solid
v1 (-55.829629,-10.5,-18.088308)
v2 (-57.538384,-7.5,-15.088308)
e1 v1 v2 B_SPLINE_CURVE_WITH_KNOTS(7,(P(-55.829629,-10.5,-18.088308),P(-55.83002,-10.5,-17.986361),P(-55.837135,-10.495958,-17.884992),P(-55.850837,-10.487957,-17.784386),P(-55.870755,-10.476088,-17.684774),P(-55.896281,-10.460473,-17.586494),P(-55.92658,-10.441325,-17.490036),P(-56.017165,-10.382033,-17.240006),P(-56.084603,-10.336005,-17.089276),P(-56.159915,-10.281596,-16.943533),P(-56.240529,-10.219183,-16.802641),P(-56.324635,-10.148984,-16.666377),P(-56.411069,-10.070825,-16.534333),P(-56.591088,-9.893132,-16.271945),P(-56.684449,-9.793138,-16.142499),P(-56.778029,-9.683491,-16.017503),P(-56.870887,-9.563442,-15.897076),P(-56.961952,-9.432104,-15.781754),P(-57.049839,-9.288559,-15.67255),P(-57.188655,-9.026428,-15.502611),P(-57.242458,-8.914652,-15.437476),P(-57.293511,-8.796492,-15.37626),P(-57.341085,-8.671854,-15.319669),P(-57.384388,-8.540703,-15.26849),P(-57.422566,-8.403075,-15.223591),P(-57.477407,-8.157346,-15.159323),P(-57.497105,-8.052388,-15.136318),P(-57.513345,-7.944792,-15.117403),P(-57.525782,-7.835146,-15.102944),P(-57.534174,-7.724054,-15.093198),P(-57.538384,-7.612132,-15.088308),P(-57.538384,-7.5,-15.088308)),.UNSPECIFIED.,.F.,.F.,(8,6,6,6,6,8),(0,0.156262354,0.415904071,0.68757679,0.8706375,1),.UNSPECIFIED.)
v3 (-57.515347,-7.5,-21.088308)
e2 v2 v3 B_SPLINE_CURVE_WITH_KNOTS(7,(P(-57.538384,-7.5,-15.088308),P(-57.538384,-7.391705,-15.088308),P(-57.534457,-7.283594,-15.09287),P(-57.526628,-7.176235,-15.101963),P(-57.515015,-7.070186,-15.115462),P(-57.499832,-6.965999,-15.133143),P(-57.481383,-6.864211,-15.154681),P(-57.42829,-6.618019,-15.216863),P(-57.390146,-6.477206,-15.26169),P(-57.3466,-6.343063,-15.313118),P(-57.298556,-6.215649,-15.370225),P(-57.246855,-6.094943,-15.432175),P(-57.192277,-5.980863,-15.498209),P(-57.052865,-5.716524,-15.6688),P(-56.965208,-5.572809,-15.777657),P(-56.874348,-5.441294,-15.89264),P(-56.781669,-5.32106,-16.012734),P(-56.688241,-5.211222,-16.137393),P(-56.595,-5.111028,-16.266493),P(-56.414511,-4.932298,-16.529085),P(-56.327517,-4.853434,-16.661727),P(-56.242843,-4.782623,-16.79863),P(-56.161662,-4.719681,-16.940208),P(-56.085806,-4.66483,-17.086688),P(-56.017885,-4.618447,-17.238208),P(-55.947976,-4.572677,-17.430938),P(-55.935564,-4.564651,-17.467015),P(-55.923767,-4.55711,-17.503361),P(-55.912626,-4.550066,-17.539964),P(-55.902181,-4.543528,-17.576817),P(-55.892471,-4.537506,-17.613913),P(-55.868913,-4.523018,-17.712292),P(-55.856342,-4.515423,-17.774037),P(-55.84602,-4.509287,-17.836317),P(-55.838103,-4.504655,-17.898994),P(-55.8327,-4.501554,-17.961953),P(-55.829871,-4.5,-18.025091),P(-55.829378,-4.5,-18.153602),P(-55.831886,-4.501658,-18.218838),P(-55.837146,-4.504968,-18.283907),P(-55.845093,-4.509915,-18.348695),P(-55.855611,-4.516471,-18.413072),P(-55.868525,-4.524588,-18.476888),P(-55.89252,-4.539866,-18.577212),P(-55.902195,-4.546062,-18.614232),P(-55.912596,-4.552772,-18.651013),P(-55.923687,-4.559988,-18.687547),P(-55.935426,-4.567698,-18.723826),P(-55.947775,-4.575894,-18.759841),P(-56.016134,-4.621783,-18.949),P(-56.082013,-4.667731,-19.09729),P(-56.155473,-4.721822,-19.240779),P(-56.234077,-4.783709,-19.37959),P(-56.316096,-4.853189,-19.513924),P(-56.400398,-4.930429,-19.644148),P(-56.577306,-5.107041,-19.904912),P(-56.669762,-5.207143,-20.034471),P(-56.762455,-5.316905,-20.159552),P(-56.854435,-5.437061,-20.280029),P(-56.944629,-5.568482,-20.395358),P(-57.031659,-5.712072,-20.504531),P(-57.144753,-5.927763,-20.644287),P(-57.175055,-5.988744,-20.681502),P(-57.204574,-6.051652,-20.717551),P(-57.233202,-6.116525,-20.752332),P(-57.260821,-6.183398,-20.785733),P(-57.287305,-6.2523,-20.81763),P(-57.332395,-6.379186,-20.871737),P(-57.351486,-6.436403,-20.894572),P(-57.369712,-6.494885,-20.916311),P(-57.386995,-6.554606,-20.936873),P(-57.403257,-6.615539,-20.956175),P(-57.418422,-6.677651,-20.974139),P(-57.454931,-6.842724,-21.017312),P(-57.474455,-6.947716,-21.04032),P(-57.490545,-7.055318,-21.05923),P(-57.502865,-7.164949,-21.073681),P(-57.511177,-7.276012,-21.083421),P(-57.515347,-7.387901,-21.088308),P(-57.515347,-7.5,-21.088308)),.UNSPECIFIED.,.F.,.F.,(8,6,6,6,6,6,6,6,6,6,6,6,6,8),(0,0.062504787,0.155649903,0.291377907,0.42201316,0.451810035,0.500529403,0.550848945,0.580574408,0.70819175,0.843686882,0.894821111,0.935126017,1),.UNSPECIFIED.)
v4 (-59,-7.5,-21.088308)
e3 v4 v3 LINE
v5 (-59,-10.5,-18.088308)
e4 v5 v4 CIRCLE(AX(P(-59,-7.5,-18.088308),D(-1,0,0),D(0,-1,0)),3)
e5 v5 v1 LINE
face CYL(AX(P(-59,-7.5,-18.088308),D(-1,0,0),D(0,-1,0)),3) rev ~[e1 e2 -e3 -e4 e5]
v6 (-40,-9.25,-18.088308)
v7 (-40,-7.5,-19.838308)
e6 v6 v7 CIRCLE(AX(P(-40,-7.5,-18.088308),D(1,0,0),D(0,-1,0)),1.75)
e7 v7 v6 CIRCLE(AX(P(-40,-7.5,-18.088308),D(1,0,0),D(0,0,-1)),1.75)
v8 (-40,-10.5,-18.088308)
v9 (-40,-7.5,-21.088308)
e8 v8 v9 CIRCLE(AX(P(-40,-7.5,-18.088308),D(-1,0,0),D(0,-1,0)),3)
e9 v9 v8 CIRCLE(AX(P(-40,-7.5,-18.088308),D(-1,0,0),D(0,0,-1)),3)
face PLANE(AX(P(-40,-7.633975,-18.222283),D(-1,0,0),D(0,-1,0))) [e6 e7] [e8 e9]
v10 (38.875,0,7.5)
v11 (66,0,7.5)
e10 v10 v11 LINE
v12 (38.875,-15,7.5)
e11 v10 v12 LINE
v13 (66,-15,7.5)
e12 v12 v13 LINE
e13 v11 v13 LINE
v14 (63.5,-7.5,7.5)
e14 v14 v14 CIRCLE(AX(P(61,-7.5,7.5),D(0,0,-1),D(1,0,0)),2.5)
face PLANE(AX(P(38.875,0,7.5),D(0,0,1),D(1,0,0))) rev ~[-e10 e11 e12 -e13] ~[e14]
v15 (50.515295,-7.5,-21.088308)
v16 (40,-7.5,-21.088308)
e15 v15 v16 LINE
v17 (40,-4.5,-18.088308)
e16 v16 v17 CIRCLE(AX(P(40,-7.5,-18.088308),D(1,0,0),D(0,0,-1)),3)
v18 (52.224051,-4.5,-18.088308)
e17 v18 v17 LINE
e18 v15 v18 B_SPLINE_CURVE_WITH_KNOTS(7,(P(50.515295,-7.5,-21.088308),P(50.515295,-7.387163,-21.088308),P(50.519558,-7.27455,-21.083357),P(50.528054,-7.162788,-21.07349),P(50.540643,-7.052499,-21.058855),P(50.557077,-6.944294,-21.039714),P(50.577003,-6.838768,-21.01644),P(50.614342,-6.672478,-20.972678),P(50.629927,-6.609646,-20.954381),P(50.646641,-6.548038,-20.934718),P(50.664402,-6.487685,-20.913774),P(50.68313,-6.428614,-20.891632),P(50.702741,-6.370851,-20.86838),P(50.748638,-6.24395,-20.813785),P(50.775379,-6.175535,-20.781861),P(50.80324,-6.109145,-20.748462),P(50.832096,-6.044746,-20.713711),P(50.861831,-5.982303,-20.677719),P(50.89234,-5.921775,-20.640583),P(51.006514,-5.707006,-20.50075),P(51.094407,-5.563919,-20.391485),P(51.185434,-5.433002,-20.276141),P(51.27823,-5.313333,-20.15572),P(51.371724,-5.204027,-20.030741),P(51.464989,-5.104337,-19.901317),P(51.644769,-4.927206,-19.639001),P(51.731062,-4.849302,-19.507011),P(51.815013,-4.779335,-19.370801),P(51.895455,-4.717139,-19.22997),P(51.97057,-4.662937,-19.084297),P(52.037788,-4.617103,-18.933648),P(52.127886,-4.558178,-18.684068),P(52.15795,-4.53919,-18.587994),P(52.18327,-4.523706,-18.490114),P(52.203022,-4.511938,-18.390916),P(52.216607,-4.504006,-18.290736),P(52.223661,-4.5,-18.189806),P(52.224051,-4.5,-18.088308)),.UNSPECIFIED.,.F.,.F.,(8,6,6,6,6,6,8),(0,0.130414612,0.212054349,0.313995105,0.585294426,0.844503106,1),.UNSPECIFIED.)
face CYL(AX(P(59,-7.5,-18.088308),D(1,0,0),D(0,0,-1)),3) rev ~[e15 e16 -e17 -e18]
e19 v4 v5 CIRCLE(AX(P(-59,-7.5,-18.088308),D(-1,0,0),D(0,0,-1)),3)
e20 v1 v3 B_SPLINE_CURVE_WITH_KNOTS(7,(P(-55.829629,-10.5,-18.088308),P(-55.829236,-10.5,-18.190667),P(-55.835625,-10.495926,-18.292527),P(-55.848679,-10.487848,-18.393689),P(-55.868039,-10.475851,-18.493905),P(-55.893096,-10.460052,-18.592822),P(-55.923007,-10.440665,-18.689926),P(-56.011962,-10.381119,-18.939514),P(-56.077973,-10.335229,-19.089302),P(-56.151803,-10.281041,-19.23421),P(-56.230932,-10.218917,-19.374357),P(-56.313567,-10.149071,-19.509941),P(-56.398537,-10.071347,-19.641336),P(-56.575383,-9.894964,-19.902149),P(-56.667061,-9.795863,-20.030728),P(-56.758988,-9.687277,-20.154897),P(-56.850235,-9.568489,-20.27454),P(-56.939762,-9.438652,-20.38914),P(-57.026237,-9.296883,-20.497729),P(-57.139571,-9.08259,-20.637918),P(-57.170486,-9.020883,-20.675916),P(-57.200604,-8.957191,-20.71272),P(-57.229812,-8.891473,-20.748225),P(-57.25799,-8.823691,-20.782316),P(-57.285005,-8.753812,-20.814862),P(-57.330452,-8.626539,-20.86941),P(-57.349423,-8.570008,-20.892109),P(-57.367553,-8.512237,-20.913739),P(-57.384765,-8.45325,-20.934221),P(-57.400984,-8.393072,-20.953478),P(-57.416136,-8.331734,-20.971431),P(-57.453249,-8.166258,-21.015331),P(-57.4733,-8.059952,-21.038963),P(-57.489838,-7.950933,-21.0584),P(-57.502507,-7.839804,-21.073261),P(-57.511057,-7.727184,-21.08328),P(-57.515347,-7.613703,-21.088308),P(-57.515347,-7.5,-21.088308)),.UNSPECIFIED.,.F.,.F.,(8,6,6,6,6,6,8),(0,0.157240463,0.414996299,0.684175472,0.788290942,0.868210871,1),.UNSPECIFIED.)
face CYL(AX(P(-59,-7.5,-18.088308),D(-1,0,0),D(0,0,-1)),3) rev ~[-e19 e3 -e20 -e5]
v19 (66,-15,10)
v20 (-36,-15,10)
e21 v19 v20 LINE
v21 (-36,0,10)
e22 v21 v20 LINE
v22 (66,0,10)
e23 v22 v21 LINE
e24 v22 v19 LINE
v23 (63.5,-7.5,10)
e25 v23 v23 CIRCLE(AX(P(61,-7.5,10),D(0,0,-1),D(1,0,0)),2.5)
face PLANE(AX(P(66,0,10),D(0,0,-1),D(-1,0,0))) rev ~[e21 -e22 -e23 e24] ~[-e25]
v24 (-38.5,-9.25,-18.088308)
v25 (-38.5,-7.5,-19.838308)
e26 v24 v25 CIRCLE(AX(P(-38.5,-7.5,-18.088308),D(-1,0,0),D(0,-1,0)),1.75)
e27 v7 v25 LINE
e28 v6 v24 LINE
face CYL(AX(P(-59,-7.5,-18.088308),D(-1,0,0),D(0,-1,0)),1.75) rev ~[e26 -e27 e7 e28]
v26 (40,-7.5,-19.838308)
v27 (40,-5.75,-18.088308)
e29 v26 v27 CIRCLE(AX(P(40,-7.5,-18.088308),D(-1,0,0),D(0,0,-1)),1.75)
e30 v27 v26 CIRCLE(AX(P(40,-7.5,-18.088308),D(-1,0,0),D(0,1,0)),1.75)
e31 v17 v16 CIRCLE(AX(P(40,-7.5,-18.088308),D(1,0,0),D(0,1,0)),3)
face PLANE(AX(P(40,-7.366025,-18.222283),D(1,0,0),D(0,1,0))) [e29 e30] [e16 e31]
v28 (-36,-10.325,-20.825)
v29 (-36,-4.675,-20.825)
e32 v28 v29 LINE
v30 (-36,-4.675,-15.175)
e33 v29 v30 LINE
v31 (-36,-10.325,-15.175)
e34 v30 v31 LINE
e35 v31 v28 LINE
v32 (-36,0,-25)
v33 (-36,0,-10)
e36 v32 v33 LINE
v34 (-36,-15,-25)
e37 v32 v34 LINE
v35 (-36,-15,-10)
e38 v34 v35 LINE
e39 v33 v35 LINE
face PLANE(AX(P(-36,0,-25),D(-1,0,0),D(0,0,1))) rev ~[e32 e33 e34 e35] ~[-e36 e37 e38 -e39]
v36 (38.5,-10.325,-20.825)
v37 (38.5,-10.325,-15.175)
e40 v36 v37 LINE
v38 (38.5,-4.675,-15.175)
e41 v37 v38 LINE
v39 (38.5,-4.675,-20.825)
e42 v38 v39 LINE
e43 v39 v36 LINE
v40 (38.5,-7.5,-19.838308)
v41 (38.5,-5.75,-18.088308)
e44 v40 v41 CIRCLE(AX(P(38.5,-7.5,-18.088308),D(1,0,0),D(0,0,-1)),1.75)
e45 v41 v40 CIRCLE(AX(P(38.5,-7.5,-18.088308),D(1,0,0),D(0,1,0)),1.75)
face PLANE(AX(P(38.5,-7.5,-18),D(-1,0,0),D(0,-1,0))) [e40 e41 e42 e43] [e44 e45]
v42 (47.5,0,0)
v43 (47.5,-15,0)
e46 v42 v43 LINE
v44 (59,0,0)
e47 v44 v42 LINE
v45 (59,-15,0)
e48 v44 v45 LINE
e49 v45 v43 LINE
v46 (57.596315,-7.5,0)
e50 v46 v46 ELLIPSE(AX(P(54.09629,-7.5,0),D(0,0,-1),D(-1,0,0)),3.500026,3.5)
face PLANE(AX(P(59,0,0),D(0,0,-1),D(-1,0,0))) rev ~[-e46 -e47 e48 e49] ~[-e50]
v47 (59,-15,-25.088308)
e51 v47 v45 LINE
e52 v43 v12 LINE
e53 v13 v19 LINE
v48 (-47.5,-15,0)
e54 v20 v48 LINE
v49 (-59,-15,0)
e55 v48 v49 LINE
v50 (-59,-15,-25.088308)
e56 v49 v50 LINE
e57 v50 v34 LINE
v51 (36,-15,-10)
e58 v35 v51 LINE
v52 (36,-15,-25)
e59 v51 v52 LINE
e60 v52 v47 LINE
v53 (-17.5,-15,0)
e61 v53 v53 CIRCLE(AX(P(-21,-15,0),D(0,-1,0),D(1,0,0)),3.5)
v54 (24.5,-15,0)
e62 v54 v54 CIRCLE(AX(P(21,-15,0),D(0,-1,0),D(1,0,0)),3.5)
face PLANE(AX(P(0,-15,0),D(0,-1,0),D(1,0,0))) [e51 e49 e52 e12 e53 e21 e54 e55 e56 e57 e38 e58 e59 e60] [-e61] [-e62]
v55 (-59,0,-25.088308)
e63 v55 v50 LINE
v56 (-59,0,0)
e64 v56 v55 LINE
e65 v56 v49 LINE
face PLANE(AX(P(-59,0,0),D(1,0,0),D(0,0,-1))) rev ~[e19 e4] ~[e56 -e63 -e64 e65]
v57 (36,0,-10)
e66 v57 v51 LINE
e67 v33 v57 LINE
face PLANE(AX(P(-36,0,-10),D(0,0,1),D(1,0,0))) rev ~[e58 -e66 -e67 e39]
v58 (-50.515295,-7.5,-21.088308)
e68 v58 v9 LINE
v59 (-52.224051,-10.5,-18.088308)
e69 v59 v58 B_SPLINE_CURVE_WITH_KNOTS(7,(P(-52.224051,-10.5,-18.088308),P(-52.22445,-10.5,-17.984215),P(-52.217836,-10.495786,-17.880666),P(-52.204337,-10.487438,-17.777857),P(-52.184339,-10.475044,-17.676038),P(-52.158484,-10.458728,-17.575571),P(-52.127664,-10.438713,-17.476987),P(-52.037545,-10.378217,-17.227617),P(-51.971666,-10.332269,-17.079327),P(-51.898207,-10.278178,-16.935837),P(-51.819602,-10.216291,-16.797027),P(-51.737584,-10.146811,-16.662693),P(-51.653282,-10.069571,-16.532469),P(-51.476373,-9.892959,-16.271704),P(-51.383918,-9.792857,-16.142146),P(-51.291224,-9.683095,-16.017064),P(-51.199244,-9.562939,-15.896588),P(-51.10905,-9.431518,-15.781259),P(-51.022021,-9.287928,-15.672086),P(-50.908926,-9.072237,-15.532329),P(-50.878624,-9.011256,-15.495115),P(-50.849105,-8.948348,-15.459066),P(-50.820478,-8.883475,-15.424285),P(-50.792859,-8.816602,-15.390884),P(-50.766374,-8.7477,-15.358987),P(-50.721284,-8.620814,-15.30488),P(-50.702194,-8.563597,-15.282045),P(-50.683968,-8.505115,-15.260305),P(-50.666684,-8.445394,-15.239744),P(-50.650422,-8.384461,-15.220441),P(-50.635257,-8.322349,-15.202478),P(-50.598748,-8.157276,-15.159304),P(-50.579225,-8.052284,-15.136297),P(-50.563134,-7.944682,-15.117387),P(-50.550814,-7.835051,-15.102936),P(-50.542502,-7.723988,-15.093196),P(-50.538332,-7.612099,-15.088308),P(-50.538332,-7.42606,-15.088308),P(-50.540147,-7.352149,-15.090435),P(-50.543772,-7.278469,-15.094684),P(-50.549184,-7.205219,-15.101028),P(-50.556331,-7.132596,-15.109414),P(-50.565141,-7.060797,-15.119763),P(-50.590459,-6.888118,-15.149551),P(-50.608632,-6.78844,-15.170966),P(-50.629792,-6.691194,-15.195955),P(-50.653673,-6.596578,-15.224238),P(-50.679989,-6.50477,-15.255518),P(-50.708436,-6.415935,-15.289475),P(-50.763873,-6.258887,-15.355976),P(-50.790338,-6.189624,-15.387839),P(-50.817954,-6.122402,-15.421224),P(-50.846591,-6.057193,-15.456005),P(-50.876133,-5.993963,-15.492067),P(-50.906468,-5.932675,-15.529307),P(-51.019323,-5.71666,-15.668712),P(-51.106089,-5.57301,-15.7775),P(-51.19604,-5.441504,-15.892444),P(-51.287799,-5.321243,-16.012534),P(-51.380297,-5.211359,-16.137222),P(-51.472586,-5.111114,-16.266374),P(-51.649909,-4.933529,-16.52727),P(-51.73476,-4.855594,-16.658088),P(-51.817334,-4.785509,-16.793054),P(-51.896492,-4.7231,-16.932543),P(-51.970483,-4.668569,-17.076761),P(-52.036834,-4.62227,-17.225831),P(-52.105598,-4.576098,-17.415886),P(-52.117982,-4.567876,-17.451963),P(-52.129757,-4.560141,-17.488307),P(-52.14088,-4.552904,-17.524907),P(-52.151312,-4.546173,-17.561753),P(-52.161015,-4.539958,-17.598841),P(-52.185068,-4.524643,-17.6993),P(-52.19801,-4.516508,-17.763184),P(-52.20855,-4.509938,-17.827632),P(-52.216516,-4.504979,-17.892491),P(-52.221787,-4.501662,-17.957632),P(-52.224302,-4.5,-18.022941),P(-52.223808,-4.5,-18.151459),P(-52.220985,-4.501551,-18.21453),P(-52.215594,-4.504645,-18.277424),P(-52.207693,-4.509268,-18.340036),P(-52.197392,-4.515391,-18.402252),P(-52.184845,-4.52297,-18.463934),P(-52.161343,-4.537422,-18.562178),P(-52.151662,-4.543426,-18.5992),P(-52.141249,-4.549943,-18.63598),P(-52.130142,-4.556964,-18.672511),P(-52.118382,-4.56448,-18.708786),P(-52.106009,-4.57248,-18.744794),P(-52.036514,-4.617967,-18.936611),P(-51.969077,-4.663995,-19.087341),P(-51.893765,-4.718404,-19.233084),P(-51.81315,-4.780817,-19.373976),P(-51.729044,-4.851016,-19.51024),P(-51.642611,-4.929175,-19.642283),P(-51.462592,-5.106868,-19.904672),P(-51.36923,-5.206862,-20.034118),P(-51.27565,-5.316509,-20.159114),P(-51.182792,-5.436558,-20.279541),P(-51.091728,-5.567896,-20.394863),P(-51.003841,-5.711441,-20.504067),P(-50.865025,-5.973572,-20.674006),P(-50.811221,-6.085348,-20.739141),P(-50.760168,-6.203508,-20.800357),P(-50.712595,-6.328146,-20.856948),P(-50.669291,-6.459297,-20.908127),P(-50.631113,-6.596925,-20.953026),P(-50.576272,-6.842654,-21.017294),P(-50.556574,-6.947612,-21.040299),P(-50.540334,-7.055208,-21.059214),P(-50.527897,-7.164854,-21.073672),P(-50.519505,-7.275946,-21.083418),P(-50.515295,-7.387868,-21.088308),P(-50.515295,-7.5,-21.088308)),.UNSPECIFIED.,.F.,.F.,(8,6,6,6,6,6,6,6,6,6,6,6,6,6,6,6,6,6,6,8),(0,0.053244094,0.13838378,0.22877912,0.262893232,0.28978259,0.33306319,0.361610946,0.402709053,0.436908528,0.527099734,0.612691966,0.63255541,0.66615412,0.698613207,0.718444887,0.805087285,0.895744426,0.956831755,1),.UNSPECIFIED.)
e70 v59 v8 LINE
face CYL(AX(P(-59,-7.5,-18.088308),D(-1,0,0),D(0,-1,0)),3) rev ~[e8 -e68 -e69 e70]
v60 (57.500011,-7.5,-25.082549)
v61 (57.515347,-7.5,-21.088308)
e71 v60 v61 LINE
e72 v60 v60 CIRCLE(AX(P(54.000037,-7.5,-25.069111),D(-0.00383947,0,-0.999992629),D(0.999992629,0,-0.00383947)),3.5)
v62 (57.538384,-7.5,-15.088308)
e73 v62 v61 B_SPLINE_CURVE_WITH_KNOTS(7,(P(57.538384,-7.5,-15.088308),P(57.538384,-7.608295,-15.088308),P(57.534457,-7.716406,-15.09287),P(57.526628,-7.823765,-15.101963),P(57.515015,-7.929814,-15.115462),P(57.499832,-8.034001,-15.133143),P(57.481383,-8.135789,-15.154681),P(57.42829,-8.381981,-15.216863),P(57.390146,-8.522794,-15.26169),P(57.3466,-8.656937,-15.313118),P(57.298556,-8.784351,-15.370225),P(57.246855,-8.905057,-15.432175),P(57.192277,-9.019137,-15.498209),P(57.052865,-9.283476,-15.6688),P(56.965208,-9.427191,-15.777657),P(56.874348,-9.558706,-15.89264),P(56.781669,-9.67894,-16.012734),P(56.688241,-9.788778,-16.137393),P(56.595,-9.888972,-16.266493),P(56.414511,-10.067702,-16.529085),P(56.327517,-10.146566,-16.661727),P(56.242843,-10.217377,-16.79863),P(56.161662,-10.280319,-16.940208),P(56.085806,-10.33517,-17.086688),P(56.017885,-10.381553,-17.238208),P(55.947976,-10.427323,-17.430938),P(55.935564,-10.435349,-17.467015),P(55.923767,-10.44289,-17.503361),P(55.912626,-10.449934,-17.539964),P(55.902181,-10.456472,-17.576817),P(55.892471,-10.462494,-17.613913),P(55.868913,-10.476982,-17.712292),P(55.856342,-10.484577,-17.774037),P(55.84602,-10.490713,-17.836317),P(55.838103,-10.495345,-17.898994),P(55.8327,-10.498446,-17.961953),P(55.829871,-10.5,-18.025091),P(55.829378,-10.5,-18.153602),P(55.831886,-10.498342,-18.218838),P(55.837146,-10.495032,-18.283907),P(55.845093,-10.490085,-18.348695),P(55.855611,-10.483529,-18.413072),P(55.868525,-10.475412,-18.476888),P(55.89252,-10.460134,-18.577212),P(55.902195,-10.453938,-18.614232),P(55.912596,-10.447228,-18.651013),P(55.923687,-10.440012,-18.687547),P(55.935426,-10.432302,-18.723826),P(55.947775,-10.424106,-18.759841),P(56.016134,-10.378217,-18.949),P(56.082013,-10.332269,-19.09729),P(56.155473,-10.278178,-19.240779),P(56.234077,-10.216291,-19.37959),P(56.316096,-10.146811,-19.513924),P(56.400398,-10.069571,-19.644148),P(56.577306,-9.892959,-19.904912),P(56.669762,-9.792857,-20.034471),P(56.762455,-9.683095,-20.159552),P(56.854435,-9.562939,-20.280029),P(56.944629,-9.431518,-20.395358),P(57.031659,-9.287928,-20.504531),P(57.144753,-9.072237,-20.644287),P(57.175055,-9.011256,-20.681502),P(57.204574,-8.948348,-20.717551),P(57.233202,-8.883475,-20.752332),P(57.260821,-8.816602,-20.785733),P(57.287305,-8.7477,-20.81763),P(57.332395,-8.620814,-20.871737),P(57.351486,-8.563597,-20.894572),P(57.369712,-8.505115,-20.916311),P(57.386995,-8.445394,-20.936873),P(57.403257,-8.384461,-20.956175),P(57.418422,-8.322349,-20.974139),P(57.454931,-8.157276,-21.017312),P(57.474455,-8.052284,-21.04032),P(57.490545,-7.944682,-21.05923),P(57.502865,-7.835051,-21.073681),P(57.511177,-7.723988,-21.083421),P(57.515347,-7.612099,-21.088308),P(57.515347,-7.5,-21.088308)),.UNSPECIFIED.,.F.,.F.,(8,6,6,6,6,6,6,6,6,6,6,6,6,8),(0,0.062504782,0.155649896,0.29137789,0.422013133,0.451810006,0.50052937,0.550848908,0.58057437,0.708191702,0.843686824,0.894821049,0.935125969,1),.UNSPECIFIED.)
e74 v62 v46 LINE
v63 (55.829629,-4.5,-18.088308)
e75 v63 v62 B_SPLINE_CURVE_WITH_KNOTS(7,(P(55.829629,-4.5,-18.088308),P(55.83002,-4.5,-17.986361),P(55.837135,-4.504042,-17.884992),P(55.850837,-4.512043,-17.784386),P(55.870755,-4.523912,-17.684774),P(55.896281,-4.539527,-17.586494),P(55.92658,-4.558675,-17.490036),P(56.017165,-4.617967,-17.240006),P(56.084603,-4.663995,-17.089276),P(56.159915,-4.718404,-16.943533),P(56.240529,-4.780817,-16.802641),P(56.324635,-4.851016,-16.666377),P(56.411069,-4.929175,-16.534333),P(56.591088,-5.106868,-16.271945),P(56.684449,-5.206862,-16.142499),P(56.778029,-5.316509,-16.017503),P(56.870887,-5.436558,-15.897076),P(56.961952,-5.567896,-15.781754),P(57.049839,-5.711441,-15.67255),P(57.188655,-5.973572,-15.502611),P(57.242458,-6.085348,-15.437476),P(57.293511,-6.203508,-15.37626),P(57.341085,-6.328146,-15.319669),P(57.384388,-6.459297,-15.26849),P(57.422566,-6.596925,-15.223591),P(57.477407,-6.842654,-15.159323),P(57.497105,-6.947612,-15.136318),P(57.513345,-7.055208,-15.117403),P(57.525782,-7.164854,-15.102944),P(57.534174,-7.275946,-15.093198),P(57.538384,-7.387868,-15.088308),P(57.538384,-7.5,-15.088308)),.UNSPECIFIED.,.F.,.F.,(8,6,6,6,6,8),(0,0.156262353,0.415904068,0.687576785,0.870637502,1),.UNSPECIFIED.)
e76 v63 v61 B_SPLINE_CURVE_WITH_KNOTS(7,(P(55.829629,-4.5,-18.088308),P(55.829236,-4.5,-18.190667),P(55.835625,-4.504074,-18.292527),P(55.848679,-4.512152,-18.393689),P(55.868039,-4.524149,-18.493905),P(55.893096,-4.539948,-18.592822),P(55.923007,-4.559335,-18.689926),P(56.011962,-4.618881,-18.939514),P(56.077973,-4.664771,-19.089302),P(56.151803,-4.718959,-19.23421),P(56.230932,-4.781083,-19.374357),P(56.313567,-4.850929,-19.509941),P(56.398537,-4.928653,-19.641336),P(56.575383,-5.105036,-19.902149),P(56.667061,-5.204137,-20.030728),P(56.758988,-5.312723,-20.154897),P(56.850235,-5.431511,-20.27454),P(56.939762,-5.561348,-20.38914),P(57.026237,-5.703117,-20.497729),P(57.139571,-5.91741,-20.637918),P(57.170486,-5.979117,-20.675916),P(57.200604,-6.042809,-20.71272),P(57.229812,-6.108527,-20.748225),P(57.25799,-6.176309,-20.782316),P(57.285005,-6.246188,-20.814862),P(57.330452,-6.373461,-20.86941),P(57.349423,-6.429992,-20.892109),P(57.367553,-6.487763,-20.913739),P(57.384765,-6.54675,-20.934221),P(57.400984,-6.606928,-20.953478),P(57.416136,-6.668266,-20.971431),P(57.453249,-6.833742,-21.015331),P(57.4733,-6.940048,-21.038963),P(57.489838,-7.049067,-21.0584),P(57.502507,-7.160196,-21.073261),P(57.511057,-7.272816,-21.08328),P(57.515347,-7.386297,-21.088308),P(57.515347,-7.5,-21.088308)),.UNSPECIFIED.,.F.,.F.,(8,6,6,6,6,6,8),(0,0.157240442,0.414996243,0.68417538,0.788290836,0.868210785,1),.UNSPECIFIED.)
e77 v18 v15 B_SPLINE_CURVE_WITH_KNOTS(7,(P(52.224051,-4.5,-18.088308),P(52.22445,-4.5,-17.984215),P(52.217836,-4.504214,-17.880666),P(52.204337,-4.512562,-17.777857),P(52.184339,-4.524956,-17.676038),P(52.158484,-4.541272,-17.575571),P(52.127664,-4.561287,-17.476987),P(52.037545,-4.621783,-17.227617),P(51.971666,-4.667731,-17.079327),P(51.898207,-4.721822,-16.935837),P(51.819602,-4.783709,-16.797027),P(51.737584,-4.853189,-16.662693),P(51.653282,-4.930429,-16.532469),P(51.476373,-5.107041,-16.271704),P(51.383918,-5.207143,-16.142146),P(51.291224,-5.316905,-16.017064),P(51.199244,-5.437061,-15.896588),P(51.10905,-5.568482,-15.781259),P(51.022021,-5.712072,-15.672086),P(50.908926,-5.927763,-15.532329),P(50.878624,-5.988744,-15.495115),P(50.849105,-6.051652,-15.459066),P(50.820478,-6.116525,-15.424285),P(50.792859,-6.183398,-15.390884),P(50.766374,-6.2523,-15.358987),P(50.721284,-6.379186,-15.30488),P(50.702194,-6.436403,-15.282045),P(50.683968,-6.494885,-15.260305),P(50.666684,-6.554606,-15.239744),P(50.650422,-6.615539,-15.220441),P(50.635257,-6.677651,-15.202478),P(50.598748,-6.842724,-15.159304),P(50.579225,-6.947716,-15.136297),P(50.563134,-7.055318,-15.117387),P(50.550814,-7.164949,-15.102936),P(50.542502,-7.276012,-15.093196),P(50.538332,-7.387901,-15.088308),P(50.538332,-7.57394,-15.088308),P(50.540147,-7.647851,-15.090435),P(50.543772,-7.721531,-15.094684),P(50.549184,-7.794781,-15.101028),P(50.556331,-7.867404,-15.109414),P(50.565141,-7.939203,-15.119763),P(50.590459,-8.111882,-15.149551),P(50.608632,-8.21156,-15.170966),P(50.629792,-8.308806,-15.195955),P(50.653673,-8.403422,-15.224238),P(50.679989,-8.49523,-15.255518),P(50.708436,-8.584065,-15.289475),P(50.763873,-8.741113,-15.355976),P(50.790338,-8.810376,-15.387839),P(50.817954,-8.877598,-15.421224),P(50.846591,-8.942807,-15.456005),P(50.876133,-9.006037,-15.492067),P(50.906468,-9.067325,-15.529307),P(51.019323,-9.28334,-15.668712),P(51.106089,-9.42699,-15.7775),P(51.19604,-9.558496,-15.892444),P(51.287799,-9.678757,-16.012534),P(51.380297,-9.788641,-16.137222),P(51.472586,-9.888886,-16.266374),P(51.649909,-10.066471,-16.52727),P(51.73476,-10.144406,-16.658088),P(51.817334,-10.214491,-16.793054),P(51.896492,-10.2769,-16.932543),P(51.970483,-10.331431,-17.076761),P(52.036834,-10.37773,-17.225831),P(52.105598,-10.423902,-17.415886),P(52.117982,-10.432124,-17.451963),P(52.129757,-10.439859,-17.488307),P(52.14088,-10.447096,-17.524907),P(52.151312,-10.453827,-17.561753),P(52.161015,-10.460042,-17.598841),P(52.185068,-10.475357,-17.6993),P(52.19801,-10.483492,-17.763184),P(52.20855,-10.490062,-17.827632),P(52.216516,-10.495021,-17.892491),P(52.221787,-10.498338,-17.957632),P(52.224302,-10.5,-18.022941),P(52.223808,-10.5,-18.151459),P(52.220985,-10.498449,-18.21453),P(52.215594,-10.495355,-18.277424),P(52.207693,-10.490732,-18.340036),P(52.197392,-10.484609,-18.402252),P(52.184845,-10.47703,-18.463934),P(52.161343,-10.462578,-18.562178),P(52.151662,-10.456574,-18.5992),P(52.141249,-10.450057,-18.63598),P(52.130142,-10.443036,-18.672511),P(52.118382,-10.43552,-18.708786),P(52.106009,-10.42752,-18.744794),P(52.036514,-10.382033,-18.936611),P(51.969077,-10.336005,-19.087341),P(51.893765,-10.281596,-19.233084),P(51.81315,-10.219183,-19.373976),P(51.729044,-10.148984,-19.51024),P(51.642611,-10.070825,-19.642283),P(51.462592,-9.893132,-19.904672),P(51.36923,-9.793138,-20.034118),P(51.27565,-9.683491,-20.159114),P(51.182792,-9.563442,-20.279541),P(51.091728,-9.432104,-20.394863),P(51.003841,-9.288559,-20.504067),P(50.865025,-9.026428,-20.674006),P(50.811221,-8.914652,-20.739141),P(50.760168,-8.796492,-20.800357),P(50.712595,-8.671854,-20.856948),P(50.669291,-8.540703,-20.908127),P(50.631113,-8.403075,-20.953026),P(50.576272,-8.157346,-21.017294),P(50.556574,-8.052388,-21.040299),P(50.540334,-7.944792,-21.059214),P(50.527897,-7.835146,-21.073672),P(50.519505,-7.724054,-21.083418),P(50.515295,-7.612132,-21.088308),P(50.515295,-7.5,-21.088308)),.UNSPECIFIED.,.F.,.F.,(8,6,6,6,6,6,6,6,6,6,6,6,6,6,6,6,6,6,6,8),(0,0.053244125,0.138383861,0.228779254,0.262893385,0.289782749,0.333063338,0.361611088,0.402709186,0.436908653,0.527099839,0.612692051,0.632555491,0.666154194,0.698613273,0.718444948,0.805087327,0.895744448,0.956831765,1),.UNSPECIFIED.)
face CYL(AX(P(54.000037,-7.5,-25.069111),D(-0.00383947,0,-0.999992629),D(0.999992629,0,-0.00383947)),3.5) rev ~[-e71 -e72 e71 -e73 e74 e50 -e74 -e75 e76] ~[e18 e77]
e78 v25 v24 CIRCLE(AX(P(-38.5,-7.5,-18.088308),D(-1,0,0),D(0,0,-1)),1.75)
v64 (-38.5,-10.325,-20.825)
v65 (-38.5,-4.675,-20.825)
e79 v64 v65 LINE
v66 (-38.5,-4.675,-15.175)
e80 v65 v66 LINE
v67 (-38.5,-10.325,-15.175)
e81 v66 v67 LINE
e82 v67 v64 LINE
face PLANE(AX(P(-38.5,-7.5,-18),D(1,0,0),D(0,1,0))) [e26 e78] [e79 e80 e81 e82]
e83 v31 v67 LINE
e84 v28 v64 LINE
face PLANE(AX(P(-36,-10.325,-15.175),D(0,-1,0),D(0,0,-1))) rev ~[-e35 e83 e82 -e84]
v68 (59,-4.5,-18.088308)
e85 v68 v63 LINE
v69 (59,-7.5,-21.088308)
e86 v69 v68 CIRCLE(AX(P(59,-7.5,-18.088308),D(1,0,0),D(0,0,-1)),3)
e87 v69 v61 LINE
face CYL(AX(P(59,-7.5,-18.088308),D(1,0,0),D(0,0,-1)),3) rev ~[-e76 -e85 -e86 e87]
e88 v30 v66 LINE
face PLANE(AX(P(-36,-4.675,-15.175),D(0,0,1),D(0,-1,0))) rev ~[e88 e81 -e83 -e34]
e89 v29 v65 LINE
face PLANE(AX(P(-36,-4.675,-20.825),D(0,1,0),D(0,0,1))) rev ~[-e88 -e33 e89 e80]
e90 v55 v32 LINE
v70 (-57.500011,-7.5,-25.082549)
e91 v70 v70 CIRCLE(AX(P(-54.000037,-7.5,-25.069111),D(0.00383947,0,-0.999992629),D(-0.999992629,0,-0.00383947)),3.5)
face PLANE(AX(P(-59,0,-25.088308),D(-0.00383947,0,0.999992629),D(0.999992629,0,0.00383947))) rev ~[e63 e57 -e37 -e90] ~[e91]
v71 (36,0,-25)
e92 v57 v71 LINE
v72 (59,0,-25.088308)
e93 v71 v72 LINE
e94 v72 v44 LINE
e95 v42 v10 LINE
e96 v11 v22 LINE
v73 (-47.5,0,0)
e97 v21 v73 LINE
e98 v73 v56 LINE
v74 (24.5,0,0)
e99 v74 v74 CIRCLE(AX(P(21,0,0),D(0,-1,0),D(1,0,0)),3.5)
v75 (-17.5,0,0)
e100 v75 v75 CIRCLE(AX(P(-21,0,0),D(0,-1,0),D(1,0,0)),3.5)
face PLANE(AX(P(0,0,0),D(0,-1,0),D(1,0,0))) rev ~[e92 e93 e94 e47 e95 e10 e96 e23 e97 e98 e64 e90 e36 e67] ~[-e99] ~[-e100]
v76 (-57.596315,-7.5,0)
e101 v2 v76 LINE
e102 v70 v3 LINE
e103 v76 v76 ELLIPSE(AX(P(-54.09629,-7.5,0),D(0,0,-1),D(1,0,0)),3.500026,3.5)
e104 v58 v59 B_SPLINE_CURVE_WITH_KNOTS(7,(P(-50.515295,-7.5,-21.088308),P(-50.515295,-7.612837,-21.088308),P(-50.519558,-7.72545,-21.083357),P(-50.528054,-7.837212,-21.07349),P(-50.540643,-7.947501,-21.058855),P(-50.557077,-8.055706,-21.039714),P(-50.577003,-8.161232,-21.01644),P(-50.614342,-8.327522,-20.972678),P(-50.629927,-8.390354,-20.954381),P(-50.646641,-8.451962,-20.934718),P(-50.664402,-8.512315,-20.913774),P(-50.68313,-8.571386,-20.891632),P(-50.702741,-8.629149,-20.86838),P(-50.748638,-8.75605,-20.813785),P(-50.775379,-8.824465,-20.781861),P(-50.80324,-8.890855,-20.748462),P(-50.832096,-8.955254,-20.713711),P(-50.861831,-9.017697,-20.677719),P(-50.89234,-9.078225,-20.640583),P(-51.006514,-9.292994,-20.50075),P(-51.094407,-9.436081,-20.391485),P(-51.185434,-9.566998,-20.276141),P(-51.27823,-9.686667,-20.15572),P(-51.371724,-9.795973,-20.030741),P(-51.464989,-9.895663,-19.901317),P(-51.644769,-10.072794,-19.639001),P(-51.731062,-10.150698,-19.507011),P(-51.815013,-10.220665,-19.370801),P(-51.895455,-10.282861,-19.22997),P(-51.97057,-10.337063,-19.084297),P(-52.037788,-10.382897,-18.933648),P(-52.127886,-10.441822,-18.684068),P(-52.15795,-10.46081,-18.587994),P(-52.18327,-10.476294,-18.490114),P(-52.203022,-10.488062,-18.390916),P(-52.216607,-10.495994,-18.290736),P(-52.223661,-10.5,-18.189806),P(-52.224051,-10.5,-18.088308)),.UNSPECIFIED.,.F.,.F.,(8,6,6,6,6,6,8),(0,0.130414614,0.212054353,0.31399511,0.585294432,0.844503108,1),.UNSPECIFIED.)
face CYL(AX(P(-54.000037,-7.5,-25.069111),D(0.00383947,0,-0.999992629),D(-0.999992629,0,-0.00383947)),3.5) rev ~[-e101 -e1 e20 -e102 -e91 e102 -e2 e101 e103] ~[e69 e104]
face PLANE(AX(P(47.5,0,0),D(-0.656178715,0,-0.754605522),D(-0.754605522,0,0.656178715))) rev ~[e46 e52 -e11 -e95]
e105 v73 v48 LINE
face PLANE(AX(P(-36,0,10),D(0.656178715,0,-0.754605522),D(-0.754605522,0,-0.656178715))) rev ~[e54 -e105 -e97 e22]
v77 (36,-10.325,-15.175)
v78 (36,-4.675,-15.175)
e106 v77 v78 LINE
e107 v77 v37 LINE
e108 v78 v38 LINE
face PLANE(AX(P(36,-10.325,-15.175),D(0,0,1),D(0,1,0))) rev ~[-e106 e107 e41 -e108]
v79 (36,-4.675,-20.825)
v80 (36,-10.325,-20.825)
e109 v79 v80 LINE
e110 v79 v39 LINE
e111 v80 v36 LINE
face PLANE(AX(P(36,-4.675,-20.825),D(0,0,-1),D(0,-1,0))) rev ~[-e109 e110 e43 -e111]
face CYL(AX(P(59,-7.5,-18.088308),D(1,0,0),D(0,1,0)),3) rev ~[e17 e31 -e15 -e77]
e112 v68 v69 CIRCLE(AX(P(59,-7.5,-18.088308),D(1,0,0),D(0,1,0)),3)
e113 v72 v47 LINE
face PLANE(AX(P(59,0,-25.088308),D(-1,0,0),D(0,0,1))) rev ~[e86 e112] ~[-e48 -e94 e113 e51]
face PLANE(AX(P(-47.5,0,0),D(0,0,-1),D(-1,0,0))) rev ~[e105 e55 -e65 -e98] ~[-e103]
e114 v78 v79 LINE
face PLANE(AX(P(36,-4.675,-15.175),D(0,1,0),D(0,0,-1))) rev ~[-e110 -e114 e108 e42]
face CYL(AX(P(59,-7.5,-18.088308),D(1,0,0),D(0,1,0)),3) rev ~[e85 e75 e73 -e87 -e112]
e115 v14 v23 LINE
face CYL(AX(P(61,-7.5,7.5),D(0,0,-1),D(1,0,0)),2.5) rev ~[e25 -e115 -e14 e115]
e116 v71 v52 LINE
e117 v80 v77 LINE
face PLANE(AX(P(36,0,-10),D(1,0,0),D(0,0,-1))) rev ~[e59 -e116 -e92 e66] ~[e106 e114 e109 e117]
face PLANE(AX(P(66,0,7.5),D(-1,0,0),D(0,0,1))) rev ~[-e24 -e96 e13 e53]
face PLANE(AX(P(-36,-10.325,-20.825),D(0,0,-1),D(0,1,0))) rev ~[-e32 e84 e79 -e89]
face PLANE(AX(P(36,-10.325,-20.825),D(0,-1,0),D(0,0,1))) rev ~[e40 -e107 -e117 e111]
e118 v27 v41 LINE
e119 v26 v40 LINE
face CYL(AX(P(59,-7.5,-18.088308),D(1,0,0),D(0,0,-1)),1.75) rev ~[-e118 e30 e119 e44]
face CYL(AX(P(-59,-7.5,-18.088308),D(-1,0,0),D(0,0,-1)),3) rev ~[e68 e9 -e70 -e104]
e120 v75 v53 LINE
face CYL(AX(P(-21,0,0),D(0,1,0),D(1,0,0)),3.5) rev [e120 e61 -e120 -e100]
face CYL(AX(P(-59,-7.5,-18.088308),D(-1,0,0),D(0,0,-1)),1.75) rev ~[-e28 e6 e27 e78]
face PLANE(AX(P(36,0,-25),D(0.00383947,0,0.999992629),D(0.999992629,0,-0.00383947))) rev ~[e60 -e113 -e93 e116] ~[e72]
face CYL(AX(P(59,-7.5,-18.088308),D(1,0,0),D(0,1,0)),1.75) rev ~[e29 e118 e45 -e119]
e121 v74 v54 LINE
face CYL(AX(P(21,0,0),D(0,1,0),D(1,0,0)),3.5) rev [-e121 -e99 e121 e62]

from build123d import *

# Parameters (mm, degrees)
F0_R      = 3.5
F1_DEPTH  = 15
F5_DEPTH  = 23
F6_DEPTH  = 19
F2_R      = 3.5
F7_DEPTH  = 26
F8_DEPTH  = 2.5
F12_DEPTH = 19
F13_DEPTH = 23
F14_DEPTH = 2.5
F15_DEPTH = 25.1
F16_R     = 2.5
F17_DEPTH = 25


with BuildPart() as f1:
    # F0 (on Front) → F1 (new body)
    with BuildSketch(Plane.XZ):
        Polygon((36, 10), (-36, 10), (-36, 0), (-36, -10), (36, -10), (36, 0), (36, 7.5), align=None)
        with Locations((-21, 0)):
            Circle(F0_R, mode=Mode.SUBTRACT)
        with Locations((21, 0)):
            Circle(F0_R, mode=Mode.SUBTRACT)
        Polygon((-36, 0), (-36, 10), (-47.5, 0), align=None)
        Polygon((38.875, 7.5), (36, 10), (36, 7.5), align=None)
        Polygon((66, 10), (36, 10), (38.875, 7.5), (66, 7.5), align=None)
        Polygon((-36, -10), (-36, 0), (-47.5, 0), (-59, 0), (-59, -10), align=None)
        Polygon((38.875, 7.5), (36, 7.5), (36, 0), (47.5, 0), align=None)
        Polygon((-36, -25), (-36, -10), (-59, -10), (-59, -25.0883084536), align=None)
        Polygon((47.5, 0), (36, 0), (36, -10), (36, -25), (59, -25.0883084536), (59, -10), (59, 0), align=None)
    extrude(amount=F1_DEPTH)

    # F3 (on face) → F5 (cut)
    with BuildSketch(Plane.YZ.offset(59)):
        with BuildLine():
            ThreePointArc((-5.75, -18.0883084536), (-8.7374368671, -16.8508715865), (-7.5, -19.8383084536))
            ThreePointArc((-7.5, -19.8383084536), (-6.2625631329, -19.3257453206), (-5.75, -18.0883084536))
        make_face()
    extrude(amount=-F5_DEPTH, mode=Mode.SUBTRACT)

    # F3 (on face) → F6 (cut)
    with BuildSketch(Plane.YZ.offset(59)):
        with BuildLine():
            ThreePointArc((-4.5, -18.0883084536), (-9.6213203436, -15.96698811), (-7.5, -21.0883084536))
            ThreePointArc((-7.5, -21.0883084536), (-5.3786796564, -20.2096287971), (-4.5, -18.0883084536))
        make_face()
        with BuildLine():
            ThreePointArc((-5.75, -18.0883084536), (-6.2625631329, -19.3257453206), (-7.5, -19.8383084536))
            ThreePointArc((-7.5, -19.8383084536), (-8.7374368671, -16.8508715865), (-5.75, -18.0883084536))
        make_face(mode=Mode.SUBTRACT)
    extrude(amount=-F6_DEPTH, mode=Mode.SUBTRACT)

    # F2 (on face) → F7 (cut)
    with BuildSketch(Plane(origin=(-0.0954553395, 0, -24.8614115721), x_dir=(0.9999926292, 0, -0.0038394697), z_dir=(-0.0038394697, 0, -0.9999926292))):
        with Locations((54.095890923, 7.5)):
            Circle(F2_R)
    extrude(amount=-F7_DEPTH, mode=Mode.SUBTRACT)

    # F4 (on face) → F8 (cut)
    with BuildSketch(Plane(origin=(36, 0, 0), x_dir=(0, -1, 0), z_dir=(-1, 0, 0))):
        Polygon((4.675, -20.825), (7.5, -20.825), (10.325, -20.825), (10.325, -15.175), (4.675, -15.175), align=None)
    extrude(amount=-F8_DEPTH, mode=Mode.SUBTRACT)

    # F9 (on face) → F12 (cut)
    with BuildSketch(Plane(origin=(-59, 0, 0), x_dir=(0, -1, 0), z_dir=(-1, 0, 0))):
        with BuildLine():
            ThreePointArc((10.5, -18.0883084536), (5.3786796564, -15.96698811), (7.5, -21.0883084536))
            ThreePointArc((7.5, -21.0883084536), (9.6213203436, -20.2096287971), (10.5, -18.0883084536))
        make_face()
        with BuildLine():
            ThreePointArc((9.25, -18.0883084536), (8.7374368671, -19.3257453206), (7.5, -19.8383084536))
            ThreePointArc((7.5, -19.8383084536), (6.2625631329, -16.8508715865), (9.25, -18.0883084536))
        make_face(mode=Mode.SUBTRACT)
    extrude(amount=-F12_DEPTH, mode=Mode.SUBTRACT)

    # F9 (on face) → F13 (cut)
    with BuildSketch(Plane(origin=(-59, 0, 0), x_dir=(0, -1, 0), z_dir=(-1, 0, 0))):
        with BuildLine():
            ThreePointArc((9.25, -18.0883084536), (6.2625631329, -16.8508715865), (7.5, -19.8383084536))
            ThreePointArc((7.5, -19.8383084536), (8.7374368671, -19.3257453206), (9.25, -18.0883084536))
        make_face()
    extrude(amount=-F13_DEPTH, mode=Mode.SUBTRACT)

    # F10 (on face) → F14 (cut)
    with BuildSketch(Plane.YZ.offset(-36)):
        Polygon((-10.325, -20.825), (-7.5, -20.825), (-4.675, -20.825), (-4.675, -15.175), (-10.325, -15.175), align=None)
    extrude(amount=-F14_DEPTH, mode=Mode.SUBTRACT)

    # F11 (on face) → F15 (cut)
    with BuildSketch(Plane(origin=(0.0954553395, 0, -24.8614115721), x_dir=(0.9999926292, 0, 0.0038394697), z_dir=(0.0038394697, 0, -0.9999926292))):
        with BuildLine():
            ThreePointArc((-50.595890923, 7.5), (-54.095890923, 11), (-57.595890923, 7.5))
            ThreePointArc((-57.595890923, 7.5), (-54.095890923, 4), (-50.595890923, 7.5))
        make_face()
    extrude(amount=-F15_DEPTH, mode=Mode.SUBTRACT)

    # F16 (on face) → F17 (cut)
    with BuildSketch(Plane(origin=(0, 0, 7.5), x_dir=(1, 0, 0), z_dir=(0, 0, -1))):
        with Locations((61, 7.5)):
            Circle(F16_R)
    extrude(amount=-F17_DEPTH, mode=Mode.SUBTRACT)


solid = f1.part
